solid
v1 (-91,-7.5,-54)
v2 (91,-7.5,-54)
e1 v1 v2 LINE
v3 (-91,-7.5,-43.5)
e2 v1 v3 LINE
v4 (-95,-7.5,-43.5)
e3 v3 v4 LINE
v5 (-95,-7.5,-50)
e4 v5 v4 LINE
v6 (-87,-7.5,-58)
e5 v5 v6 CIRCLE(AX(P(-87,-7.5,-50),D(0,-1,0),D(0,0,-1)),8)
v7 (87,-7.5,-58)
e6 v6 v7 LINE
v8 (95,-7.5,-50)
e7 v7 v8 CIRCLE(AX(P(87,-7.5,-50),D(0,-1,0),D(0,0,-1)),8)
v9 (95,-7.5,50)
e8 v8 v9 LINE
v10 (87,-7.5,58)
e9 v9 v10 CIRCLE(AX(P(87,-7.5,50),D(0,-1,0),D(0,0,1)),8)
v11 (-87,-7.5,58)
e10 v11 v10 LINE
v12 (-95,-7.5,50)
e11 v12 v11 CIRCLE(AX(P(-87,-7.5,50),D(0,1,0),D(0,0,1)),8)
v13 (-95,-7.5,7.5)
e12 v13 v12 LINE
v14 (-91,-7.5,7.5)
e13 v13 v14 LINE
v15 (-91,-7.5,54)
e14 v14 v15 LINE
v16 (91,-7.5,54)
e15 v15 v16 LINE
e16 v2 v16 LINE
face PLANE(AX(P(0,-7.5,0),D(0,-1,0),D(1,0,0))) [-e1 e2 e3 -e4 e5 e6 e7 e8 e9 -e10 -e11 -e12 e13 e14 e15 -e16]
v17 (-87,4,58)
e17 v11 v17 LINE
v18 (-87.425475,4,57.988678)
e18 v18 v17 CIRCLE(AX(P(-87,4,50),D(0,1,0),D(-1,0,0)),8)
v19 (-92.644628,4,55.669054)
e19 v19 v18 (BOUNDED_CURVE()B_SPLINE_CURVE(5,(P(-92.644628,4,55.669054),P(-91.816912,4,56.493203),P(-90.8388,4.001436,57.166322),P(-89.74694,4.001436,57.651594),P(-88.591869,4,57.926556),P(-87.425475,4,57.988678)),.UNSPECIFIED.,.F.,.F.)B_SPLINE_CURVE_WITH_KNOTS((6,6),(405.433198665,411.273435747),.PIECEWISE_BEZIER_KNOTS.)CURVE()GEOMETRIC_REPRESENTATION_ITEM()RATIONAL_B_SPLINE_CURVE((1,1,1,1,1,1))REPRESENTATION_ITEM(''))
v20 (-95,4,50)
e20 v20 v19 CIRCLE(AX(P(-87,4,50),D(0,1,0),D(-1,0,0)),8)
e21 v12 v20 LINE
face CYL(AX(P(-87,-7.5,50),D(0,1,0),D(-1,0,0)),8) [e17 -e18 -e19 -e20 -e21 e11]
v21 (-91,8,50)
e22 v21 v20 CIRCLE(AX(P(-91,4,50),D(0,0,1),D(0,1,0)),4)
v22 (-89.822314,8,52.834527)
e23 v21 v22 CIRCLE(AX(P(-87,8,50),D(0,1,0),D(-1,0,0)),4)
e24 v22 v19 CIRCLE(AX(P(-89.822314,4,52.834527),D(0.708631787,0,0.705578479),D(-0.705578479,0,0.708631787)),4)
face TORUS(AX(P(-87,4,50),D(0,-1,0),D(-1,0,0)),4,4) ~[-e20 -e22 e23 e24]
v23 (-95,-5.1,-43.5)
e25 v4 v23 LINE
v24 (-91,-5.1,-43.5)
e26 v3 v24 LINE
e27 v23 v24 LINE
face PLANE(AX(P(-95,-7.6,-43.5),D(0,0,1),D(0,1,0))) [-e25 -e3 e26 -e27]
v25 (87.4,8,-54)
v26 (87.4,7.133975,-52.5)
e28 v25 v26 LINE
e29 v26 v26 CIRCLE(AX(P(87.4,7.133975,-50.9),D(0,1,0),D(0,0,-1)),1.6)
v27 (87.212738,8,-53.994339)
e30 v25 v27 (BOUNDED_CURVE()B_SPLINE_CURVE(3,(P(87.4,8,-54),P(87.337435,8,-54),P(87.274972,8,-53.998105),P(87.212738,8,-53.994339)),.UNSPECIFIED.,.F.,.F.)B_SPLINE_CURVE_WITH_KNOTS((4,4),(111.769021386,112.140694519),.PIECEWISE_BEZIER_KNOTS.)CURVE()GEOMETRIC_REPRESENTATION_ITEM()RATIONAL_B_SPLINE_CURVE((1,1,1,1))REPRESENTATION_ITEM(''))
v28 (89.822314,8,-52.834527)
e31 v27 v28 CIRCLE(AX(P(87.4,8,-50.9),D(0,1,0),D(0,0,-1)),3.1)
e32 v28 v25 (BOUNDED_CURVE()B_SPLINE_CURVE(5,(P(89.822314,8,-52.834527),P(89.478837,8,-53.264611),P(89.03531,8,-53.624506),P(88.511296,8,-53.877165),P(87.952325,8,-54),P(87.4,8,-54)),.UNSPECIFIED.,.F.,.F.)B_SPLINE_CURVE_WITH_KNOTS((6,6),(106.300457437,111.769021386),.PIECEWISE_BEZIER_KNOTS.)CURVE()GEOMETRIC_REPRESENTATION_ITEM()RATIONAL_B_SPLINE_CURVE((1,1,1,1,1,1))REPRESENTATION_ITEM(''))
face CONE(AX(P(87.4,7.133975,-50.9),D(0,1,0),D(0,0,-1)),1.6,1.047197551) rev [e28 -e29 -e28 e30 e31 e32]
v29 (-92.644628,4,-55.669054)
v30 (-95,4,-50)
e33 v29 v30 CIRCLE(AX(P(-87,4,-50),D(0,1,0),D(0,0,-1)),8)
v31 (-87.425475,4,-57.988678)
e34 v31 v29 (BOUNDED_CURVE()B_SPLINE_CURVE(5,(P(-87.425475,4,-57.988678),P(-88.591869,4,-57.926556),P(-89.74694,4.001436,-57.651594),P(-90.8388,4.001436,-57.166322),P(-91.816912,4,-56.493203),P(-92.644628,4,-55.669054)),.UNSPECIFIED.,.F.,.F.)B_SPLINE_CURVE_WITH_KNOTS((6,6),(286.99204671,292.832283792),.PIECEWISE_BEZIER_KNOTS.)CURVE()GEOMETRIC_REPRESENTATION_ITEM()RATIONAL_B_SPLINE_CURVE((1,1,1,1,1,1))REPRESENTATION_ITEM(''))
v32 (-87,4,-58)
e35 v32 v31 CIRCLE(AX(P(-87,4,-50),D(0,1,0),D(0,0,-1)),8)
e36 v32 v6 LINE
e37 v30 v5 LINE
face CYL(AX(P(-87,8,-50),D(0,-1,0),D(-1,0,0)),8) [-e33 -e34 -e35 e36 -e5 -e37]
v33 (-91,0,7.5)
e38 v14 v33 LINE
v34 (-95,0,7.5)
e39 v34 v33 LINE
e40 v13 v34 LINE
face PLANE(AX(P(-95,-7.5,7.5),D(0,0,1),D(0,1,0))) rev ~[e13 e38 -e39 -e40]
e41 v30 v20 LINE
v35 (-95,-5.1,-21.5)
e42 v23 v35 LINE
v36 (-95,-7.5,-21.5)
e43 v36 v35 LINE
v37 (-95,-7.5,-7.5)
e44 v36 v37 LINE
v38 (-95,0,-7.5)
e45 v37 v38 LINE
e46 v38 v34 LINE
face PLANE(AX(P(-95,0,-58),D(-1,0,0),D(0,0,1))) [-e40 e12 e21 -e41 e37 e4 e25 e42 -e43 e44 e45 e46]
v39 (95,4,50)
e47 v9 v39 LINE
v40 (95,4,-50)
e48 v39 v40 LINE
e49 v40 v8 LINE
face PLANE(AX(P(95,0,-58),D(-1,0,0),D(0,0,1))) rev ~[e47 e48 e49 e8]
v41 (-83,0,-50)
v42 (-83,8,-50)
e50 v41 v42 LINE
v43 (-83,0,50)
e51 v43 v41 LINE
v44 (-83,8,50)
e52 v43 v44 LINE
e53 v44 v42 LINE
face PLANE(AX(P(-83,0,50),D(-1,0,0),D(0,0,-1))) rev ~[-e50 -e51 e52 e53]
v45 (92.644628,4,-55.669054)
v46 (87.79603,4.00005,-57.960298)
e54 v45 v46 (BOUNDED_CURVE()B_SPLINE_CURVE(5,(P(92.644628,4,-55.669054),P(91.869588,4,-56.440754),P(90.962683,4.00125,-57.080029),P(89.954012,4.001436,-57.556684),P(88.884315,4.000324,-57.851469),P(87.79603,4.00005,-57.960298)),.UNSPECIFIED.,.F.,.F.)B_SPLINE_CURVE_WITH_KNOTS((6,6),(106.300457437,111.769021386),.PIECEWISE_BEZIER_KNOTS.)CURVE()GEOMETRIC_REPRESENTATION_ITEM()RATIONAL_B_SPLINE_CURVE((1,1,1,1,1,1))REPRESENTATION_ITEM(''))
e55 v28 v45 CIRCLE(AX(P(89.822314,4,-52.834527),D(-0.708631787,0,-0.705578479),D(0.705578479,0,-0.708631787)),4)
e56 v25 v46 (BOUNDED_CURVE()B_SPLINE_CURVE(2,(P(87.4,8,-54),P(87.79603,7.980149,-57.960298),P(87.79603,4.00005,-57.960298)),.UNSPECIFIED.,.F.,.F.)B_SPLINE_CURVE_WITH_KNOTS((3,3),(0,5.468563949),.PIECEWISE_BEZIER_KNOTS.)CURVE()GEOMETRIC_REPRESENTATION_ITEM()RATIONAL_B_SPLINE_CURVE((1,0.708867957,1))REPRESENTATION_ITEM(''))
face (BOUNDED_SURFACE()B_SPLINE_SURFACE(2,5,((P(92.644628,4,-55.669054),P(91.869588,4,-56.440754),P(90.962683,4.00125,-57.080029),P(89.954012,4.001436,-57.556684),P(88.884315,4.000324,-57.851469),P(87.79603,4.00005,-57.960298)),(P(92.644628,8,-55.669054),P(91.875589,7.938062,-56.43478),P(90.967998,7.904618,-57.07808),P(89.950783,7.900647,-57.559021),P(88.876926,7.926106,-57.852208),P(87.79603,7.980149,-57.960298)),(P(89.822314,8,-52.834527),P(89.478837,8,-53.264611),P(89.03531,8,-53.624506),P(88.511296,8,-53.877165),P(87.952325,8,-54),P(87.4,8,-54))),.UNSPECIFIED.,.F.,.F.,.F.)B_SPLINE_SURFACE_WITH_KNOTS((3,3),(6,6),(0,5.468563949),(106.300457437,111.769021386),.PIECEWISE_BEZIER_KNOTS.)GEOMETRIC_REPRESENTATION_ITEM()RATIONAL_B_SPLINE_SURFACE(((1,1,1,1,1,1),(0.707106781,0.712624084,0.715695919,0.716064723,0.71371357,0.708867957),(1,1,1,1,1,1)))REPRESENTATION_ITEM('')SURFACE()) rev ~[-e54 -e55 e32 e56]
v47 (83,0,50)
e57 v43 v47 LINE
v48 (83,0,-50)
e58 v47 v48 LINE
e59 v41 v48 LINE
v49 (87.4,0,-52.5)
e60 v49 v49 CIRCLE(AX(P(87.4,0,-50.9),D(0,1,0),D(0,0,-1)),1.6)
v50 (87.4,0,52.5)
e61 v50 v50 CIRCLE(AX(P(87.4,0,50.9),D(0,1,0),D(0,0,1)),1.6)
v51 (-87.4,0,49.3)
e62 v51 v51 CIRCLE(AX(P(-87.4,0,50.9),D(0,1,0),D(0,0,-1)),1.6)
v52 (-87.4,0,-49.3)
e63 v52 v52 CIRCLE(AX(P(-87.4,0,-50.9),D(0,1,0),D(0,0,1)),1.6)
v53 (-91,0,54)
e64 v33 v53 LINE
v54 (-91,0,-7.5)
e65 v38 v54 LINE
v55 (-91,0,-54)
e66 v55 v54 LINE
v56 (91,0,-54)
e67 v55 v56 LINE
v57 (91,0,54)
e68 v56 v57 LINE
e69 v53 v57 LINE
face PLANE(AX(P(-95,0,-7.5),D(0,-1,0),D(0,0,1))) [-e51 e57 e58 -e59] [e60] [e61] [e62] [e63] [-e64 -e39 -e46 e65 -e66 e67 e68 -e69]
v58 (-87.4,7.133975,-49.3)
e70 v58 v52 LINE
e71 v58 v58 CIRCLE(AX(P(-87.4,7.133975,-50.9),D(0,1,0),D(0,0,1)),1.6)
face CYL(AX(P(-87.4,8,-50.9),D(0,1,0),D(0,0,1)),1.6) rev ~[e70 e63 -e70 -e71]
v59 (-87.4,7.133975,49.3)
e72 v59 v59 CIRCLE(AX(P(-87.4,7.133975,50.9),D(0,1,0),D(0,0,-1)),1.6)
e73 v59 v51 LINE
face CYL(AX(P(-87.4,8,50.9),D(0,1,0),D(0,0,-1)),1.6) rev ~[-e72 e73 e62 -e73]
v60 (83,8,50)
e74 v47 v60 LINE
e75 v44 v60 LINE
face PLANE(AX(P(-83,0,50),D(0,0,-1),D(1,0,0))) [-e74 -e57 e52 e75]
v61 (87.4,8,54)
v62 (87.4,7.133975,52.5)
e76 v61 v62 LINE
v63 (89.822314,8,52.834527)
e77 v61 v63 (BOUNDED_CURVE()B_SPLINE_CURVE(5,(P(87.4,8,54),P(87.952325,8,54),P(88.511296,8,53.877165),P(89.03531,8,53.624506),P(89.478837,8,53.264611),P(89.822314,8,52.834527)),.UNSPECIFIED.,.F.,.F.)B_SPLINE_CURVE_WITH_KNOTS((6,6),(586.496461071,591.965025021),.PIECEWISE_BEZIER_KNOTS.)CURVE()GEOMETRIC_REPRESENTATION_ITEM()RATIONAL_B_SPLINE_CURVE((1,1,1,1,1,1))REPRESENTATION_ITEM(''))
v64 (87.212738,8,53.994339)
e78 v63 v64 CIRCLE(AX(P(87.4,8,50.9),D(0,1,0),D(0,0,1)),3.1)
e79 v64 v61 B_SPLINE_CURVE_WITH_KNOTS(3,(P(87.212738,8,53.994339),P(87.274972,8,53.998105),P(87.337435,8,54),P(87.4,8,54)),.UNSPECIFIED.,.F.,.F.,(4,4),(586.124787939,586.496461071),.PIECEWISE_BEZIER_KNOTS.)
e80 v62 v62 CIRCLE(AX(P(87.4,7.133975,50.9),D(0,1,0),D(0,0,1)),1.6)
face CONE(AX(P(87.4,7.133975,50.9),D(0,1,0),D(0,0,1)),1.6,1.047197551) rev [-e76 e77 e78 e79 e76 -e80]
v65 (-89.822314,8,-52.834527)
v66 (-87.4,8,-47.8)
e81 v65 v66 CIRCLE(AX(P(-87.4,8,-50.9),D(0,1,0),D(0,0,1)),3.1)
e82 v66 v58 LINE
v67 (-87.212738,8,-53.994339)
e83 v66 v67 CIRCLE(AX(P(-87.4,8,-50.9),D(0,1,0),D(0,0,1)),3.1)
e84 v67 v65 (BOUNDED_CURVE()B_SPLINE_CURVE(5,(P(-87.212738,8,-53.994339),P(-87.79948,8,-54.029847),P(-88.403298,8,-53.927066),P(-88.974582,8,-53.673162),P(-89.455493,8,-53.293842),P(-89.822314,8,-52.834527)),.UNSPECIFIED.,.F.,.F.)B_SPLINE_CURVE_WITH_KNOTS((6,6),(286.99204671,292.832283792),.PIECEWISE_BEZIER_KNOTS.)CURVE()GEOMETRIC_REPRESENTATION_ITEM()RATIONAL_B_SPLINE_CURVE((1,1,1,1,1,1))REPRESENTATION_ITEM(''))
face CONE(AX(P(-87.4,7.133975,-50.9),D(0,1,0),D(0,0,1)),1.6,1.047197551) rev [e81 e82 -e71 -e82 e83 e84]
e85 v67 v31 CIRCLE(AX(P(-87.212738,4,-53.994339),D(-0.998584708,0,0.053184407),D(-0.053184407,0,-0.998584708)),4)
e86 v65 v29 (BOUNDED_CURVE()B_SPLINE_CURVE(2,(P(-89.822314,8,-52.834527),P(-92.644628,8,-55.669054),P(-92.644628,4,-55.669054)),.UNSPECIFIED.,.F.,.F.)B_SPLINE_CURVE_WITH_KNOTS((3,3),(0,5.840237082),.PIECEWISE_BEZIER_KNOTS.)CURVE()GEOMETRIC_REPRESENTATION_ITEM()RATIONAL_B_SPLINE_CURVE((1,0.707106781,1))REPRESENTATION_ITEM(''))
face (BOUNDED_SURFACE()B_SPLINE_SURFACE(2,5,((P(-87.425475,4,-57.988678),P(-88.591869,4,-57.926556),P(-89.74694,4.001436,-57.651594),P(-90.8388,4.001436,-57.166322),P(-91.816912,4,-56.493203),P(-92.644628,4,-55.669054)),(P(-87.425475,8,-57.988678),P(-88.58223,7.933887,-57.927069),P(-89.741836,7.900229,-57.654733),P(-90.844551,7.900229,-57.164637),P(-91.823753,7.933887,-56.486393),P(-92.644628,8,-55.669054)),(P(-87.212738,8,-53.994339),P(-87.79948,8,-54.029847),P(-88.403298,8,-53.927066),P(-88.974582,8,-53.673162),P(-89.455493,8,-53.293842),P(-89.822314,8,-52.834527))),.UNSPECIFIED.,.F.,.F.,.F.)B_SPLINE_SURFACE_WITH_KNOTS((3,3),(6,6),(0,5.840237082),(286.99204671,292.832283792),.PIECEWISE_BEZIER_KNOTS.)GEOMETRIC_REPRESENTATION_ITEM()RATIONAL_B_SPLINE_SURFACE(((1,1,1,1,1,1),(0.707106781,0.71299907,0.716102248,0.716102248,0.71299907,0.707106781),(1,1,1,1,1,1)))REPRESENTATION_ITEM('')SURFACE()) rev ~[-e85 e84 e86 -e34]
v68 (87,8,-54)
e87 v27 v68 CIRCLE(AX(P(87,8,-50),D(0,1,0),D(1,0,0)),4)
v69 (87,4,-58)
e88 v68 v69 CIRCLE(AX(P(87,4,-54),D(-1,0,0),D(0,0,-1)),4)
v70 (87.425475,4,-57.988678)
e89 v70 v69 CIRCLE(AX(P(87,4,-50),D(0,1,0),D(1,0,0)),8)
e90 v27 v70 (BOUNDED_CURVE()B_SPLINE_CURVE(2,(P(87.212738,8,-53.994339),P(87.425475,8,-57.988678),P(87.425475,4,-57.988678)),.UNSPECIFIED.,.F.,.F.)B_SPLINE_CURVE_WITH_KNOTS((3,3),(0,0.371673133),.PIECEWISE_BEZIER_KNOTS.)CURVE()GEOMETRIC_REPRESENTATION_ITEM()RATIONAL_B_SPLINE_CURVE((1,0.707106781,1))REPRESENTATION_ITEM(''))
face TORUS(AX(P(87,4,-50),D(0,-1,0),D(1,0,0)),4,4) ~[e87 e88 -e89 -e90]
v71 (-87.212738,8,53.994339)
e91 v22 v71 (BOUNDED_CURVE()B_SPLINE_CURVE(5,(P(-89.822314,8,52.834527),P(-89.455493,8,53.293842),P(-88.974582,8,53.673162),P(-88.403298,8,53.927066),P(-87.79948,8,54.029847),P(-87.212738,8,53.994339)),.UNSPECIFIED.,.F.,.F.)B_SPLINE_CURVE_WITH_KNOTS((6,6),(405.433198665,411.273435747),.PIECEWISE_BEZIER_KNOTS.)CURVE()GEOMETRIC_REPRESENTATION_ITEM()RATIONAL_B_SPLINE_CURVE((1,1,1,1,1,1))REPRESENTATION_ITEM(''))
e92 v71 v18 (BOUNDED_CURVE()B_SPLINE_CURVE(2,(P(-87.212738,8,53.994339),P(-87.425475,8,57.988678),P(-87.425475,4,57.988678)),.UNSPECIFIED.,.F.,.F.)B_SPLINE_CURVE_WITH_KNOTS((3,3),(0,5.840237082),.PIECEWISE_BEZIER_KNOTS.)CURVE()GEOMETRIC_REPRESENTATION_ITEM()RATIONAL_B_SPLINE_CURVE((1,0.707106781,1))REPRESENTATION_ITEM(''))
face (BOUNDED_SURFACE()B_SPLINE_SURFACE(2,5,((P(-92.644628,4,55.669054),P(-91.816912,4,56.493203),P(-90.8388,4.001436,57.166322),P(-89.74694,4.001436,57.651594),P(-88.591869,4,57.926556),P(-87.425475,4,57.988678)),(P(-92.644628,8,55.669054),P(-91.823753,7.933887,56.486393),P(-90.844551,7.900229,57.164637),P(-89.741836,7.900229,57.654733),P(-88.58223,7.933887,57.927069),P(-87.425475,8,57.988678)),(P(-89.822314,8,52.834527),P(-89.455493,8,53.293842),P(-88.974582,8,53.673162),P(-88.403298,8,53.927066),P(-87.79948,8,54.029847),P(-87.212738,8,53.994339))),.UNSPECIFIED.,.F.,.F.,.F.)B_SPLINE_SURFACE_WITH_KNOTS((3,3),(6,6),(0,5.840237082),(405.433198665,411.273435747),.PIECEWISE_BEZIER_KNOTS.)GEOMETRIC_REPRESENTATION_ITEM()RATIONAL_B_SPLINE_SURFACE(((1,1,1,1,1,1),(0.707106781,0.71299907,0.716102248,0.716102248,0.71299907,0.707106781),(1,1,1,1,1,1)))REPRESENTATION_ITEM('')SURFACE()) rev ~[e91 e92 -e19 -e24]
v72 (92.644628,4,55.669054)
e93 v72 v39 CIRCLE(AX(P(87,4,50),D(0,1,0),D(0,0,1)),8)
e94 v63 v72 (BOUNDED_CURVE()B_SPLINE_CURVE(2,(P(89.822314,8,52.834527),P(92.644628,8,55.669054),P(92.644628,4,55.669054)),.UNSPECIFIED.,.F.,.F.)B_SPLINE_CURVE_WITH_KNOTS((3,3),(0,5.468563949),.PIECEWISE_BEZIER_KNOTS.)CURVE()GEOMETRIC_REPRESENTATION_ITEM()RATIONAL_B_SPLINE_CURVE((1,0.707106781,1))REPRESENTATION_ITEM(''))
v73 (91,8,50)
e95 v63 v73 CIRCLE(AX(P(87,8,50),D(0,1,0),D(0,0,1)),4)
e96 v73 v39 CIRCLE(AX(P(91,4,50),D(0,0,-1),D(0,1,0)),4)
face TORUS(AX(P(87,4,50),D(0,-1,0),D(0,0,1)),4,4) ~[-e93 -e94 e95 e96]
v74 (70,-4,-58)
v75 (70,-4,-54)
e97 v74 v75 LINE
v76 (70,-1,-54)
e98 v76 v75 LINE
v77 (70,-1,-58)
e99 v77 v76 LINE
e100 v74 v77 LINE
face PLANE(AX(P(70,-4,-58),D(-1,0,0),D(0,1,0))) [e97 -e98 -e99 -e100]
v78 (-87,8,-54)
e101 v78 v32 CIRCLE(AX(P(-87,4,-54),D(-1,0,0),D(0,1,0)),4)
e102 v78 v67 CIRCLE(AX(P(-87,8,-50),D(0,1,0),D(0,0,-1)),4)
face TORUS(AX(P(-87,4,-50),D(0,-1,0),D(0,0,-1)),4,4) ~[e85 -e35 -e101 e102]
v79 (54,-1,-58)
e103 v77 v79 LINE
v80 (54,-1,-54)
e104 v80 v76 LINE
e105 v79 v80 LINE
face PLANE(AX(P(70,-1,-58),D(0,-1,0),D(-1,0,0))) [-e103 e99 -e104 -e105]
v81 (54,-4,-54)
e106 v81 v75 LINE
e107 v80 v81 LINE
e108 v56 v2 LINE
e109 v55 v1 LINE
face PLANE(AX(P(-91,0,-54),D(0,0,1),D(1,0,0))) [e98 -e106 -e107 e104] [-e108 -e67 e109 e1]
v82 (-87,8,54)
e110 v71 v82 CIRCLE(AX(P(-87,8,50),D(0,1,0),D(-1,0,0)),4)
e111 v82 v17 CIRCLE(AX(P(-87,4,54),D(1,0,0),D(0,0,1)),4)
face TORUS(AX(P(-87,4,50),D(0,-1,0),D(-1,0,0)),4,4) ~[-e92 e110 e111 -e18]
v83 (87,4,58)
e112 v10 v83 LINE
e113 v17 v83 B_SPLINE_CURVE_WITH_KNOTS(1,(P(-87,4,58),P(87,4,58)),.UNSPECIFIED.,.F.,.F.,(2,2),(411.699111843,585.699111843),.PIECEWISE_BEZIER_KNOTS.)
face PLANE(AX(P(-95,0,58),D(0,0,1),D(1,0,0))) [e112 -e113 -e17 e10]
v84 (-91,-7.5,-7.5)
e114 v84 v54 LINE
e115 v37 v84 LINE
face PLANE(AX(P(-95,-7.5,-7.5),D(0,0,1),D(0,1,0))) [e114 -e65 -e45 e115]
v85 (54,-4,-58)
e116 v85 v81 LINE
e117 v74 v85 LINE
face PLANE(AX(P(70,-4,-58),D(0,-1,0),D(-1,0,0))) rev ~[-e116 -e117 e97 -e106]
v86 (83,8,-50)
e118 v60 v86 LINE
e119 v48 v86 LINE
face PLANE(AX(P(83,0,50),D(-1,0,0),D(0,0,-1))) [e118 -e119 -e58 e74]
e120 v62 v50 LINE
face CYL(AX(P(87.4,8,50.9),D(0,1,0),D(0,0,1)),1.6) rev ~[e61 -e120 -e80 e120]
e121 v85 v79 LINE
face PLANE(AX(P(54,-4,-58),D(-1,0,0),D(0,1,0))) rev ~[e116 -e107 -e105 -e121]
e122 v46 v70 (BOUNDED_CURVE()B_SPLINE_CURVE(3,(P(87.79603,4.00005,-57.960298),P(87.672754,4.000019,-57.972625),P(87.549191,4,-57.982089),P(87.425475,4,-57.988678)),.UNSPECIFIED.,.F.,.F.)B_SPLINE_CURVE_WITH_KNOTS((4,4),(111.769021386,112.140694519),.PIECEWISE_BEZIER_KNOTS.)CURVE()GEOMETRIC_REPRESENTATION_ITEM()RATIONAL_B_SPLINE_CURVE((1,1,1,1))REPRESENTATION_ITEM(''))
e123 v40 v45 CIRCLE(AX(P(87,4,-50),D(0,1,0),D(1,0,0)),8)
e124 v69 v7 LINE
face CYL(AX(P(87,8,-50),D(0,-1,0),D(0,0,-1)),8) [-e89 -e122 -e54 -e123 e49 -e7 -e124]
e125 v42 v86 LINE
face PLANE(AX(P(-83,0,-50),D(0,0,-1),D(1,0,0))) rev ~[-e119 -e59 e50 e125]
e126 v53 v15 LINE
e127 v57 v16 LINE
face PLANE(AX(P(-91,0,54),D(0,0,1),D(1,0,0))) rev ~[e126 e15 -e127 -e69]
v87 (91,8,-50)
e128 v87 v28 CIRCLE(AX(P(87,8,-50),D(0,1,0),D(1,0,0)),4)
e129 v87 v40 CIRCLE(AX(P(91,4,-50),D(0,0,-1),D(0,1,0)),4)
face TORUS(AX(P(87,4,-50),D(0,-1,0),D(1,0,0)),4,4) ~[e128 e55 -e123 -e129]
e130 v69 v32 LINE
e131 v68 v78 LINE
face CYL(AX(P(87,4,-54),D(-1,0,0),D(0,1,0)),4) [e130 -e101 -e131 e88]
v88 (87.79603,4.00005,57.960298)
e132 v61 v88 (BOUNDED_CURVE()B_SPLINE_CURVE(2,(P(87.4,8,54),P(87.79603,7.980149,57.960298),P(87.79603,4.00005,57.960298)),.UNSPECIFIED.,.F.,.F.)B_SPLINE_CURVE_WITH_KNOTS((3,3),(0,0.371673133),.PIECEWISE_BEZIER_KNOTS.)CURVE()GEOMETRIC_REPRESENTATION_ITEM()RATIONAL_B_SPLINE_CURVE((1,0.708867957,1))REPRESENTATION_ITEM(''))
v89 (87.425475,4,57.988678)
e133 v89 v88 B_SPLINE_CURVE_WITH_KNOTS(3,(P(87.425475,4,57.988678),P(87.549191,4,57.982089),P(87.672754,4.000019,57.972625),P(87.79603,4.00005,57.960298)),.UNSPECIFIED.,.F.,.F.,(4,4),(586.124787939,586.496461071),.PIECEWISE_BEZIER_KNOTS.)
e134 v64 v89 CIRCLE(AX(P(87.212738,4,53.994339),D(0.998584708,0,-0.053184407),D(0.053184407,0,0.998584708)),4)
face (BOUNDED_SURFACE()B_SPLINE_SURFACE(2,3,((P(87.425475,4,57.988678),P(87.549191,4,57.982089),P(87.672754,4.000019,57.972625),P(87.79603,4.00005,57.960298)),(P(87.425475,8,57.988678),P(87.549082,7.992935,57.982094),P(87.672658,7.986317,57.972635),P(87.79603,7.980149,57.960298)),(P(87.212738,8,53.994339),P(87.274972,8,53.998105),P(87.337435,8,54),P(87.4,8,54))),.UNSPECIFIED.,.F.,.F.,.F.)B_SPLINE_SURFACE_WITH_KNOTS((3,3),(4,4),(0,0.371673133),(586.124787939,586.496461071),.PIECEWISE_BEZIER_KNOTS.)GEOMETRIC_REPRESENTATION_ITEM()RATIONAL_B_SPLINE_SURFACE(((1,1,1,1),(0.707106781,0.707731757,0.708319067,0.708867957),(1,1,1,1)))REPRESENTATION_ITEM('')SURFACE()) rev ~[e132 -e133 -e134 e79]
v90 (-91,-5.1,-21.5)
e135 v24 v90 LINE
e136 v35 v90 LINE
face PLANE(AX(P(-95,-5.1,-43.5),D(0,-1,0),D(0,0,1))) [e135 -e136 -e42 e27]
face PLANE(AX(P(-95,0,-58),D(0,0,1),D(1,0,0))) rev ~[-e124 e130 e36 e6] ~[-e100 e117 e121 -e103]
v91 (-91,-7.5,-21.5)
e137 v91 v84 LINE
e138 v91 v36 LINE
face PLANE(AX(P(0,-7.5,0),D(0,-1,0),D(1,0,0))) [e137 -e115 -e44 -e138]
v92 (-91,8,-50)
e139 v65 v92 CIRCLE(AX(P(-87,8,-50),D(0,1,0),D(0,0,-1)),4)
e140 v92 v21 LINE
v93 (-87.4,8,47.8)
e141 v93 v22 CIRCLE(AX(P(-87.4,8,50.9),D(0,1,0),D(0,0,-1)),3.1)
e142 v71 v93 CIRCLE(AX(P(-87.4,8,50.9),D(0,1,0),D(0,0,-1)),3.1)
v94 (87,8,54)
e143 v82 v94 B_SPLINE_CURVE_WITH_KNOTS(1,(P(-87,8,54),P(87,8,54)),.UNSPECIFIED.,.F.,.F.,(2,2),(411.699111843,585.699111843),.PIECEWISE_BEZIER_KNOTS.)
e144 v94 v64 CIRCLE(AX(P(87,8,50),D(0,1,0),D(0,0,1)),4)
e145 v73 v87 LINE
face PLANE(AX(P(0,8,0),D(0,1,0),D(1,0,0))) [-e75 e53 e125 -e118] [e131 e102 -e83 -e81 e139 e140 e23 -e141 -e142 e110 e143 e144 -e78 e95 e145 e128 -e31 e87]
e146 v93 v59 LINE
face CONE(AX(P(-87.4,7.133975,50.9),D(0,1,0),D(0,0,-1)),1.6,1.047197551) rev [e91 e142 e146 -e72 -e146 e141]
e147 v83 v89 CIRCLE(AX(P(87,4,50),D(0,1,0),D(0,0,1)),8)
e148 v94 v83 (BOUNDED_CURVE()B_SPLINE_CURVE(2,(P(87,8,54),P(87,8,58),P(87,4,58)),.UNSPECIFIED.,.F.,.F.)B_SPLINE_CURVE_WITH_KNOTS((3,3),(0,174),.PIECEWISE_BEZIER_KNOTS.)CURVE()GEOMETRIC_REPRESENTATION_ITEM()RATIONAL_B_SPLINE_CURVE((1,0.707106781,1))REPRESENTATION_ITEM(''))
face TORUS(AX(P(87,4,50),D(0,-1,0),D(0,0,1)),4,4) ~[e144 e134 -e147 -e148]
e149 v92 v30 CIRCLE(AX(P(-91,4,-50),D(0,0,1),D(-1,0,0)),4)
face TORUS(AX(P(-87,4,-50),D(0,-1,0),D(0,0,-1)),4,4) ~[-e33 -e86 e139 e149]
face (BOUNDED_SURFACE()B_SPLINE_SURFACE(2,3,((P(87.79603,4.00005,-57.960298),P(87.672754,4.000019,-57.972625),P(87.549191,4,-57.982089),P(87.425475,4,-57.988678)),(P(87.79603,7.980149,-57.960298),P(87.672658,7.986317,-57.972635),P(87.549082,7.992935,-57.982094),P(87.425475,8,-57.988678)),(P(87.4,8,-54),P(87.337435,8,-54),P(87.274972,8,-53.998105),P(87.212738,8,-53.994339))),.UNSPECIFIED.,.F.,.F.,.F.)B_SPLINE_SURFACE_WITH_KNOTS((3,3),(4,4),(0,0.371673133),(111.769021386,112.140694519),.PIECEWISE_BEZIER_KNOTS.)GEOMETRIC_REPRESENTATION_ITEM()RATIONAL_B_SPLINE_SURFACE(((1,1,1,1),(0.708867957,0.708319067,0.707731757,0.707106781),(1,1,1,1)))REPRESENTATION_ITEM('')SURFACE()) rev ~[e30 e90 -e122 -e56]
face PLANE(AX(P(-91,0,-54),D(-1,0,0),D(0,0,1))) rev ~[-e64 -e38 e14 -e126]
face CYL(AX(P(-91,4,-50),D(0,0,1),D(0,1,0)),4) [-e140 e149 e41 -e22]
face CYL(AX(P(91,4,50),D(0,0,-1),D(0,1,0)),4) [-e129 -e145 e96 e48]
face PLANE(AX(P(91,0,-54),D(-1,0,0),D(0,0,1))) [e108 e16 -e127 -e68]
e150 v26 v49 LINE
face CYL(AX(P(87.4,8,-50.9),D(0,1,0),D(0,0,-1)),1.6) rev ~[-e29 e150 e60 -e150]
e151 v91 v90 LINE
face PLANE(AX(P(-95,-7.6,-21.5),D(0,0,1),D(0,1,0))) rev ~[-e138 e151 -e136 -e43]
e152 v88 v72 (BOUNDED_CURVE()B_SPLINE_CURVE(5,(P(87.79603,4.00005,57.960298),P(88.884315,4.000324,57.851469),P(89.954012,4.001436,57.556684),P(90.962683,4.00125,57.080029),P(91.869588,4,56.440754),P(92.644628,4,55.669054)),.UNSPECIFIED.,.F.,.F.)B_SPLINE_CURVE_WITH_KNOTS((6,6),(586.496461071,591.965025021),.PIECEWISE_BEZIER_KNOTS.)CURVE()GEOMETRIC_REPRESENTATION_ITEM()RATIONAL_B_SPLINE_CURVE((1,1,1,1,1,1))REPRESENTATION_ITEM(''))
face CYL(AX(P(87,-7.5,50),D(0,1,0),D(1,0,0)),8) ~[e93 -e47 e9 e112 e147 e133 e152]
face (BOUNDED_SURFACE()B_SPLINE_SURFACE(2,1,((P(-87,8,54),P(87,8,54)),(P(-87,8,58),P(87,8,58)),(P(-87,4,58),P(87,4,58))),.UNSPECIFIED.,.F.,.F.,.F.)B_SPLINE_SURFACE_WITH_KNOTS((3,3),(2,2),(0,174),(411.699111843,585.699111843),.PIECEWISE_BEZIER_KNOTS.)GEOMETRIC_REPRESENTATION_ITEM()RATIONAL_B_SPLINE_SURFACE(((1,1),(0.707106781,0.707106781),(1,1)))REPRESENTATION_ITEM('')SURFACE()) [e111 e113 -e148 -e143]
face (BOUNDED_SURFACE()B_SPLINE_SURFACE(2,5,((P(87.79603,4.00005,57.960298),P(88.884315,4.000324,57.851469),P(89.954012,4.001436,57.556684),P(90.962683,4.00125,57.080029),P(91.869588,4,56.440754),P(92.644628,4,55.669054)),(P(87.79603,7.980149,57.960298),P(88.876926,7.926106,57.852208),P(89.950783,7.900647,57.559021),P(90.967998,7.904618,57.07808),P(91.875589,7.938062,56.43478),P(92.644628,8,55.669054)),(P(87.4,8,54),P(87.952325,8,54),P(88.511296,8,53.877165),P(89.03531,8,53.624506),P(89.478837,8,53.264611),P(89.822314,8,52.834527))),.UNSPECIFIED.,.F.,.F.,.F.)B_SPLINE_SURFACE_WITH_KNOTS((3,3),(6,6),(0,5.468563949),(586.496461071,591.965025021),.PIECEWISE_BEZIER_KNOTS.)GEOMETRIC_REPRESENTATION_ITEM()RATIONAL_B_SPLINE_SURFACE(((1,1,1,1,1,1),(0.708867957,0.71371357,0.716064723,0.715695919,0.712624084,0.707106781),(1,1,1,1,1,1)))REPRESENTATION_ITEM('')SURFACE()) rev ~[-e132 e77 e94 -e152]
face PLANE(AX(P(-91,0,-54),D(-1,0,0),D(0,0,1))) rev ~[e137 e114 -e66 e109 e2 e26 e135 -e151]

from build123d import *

# Parameters (mm, degrees)
SKETCH_1_W          = 190
SKETCH_1_H          = 116
SKETCH_1_W_2        = 166
SKETCH_1_H_2        = 100
EXTRUDE_2_DEPTH     = 8
SKETCH_2_W          = 190
SKETCH_2_H          = 116
SKETCH_2_W_2        = 182
SKETCH_2_H_2        = 108
EXTRUDE_3_DEPTH     = 7.5
FILLET_1_R          = 8
SKETCH_3_W          = 15
SKETCH_3_H          = 7.5
CUT_EXTRUDE_1_DEPTH = 7.5
SKETCH_4_W          = 16
SKETCH_4_H          = 3
CUT_EXTRUDE_2_DEPTH = 35.5
SKETCH_5_R          = 1.6
CUT_EXTRUDE_3_DEPTH = 35.5
CHAMFER_1_SIZE      = 1.5
CHAMFER_1_SIZE2     = 0.866025404
SKETCH_6_W          = 22
SKETCH_6_H          = 2.5
CUT_EXTRUDE_4_DEPTH = 4
FILLET_2_R          = 4


with BuildPart() as part:
    # 草图1 → 凸台-拉伸2 (new body)
    with BuildSketch(Plane(origin=(0, 0, 0), x_dir=(1, 0, 0), z_dir=(0, 1, 0))):
        Rectangle(SKETCH_1_W, SKETCH_1_H)
        Rectangle(SKETCH_1_W_2, SKETCH_1_H_2, mode=Mode.SUBTRACT)
    extrude(amount=EXTRUDE_2_DEPTH)

    # 草图2 → 凸台-拉伸3 (add)
    with BuildSketch(Plane.XZ):
        Rectangle(SKETCH_2_W, SKETCH_2_H)
        Rectangle(SKETCH_2_W_2, SKETCH_2_H_2, mode=Mode.SUBTRACT)
    extrude(amount=EXTRUDE_3_DEPTH)

    # 圆角1
    fillet_1_edges = [part.edges().sort_by_distance(p)[0] for p in [
        (-95, 0.25, 58),
        (95, 0.25, 58),
        (95, 0.25, -58),
        (-95, 0.25, -58),
    ]]
    fillet(fillet_1_edges, radius=FILLET_1_R)

    # 草图3 → 切除-拉伸1 (cut)
    with BuildSketch(Plane.ZY.offset(95)):
        with Locations((0, -3.75)):
            Rectangle(SKETCH_3_W, SKETCH_3_H)
    extrude(amount=-CUT_EXTRUDE_1_DEPTH, mode=Mode.SUBTRACT)

    # 草图4 → 切除-拉伸2 (cut)
    with BuildSketch(Plane(origin=(0, 0, -58), x_dir=(-1, 0, 0), z_dir=(0, 0, -1))):
        with Locations((-62, -2.5)):
            Rectangle(SKETCH_4_W, SKETCH_4_H)
    extrude(amount=-CUT_EXTRUDE_2_DEPTH, mode=Mode.SUBTRACT)

    # 草图5 → 切除-拉伸3 (cut)
    with BuildSketch(Plane(origin=(0, 8, 0), x_dir=(1, 0, 0), z_dir=(0, 1, 0))):
        with Locations(Location((-87.4, 50.9, 0), (0, 0, 270))):
            Circle(SKETCH_5_R)
        with Locations(Location((-87.4, -50.9, 0), (0, 0, 90))):
            Circle(SKETCH_5_R)
        with Locations(Location((87.4, -50.9, 0), (0, 0, 270))):
            Circle(SKETCH_5_R)
        with Locations(Location((87.4, 50.9, 0), (0, 0, 90))):
            Circle(SKETCH_5_R)
    extrude(amount=-CUT_EXTRUDE_3_DEPTH, mode=Mode.SUBTRACT)

    # 倒角1
    chamfer_1_edges = [part.edges().sort_by_distance(p)[0] for p in [
        (87.4, 8, -49.3),
        (87.4, 8, 49.3),
        (-87.4, 8, 52.5),
        (-87.4, 8, -52.5),
    ]]
    chamfer_1_side = [part.faces().sort_by_distance(p)[0] for p in [
        (0, 8, -55.773882303),
    ]]
    chamfer(chamfer_1_edges, length=CHAMFER_1_SIZE, length2=CHAMFER_1_SIZE2, reference=chamfer_1_side[0])

    # 草图6 → 切除-拉伸4 (cut)
    with BuildSketch(Plane.ZY.offset(95)):
        with Locations((-32.5, -6.35)):
            Rectangle(SKETCH_6_W, SKETCH_6_H)
    extrude(amount=-CUT_EXTRUDE_4_DEPTH, mode=Mode.SUBTRACT)

    # 圆角2
    fillet_2_edges = [part.edges().sort_by_distance(p)[0] for p in [
        (95, 8, 0),
        (0, 8, 58),
        (-95, 8, 0),
        (0, 8, -58),
        (-92.656854249, 8, 55.656854249),
        (-92.656854249, 8, -55.656854249),
        (92.656854249, 8, -55.656854249),
        (92.656854249, 8, 55.656854249),
    ]]
    fillet(fillet_2_edges, radius=FILLET_2_R)


solid = part.part
